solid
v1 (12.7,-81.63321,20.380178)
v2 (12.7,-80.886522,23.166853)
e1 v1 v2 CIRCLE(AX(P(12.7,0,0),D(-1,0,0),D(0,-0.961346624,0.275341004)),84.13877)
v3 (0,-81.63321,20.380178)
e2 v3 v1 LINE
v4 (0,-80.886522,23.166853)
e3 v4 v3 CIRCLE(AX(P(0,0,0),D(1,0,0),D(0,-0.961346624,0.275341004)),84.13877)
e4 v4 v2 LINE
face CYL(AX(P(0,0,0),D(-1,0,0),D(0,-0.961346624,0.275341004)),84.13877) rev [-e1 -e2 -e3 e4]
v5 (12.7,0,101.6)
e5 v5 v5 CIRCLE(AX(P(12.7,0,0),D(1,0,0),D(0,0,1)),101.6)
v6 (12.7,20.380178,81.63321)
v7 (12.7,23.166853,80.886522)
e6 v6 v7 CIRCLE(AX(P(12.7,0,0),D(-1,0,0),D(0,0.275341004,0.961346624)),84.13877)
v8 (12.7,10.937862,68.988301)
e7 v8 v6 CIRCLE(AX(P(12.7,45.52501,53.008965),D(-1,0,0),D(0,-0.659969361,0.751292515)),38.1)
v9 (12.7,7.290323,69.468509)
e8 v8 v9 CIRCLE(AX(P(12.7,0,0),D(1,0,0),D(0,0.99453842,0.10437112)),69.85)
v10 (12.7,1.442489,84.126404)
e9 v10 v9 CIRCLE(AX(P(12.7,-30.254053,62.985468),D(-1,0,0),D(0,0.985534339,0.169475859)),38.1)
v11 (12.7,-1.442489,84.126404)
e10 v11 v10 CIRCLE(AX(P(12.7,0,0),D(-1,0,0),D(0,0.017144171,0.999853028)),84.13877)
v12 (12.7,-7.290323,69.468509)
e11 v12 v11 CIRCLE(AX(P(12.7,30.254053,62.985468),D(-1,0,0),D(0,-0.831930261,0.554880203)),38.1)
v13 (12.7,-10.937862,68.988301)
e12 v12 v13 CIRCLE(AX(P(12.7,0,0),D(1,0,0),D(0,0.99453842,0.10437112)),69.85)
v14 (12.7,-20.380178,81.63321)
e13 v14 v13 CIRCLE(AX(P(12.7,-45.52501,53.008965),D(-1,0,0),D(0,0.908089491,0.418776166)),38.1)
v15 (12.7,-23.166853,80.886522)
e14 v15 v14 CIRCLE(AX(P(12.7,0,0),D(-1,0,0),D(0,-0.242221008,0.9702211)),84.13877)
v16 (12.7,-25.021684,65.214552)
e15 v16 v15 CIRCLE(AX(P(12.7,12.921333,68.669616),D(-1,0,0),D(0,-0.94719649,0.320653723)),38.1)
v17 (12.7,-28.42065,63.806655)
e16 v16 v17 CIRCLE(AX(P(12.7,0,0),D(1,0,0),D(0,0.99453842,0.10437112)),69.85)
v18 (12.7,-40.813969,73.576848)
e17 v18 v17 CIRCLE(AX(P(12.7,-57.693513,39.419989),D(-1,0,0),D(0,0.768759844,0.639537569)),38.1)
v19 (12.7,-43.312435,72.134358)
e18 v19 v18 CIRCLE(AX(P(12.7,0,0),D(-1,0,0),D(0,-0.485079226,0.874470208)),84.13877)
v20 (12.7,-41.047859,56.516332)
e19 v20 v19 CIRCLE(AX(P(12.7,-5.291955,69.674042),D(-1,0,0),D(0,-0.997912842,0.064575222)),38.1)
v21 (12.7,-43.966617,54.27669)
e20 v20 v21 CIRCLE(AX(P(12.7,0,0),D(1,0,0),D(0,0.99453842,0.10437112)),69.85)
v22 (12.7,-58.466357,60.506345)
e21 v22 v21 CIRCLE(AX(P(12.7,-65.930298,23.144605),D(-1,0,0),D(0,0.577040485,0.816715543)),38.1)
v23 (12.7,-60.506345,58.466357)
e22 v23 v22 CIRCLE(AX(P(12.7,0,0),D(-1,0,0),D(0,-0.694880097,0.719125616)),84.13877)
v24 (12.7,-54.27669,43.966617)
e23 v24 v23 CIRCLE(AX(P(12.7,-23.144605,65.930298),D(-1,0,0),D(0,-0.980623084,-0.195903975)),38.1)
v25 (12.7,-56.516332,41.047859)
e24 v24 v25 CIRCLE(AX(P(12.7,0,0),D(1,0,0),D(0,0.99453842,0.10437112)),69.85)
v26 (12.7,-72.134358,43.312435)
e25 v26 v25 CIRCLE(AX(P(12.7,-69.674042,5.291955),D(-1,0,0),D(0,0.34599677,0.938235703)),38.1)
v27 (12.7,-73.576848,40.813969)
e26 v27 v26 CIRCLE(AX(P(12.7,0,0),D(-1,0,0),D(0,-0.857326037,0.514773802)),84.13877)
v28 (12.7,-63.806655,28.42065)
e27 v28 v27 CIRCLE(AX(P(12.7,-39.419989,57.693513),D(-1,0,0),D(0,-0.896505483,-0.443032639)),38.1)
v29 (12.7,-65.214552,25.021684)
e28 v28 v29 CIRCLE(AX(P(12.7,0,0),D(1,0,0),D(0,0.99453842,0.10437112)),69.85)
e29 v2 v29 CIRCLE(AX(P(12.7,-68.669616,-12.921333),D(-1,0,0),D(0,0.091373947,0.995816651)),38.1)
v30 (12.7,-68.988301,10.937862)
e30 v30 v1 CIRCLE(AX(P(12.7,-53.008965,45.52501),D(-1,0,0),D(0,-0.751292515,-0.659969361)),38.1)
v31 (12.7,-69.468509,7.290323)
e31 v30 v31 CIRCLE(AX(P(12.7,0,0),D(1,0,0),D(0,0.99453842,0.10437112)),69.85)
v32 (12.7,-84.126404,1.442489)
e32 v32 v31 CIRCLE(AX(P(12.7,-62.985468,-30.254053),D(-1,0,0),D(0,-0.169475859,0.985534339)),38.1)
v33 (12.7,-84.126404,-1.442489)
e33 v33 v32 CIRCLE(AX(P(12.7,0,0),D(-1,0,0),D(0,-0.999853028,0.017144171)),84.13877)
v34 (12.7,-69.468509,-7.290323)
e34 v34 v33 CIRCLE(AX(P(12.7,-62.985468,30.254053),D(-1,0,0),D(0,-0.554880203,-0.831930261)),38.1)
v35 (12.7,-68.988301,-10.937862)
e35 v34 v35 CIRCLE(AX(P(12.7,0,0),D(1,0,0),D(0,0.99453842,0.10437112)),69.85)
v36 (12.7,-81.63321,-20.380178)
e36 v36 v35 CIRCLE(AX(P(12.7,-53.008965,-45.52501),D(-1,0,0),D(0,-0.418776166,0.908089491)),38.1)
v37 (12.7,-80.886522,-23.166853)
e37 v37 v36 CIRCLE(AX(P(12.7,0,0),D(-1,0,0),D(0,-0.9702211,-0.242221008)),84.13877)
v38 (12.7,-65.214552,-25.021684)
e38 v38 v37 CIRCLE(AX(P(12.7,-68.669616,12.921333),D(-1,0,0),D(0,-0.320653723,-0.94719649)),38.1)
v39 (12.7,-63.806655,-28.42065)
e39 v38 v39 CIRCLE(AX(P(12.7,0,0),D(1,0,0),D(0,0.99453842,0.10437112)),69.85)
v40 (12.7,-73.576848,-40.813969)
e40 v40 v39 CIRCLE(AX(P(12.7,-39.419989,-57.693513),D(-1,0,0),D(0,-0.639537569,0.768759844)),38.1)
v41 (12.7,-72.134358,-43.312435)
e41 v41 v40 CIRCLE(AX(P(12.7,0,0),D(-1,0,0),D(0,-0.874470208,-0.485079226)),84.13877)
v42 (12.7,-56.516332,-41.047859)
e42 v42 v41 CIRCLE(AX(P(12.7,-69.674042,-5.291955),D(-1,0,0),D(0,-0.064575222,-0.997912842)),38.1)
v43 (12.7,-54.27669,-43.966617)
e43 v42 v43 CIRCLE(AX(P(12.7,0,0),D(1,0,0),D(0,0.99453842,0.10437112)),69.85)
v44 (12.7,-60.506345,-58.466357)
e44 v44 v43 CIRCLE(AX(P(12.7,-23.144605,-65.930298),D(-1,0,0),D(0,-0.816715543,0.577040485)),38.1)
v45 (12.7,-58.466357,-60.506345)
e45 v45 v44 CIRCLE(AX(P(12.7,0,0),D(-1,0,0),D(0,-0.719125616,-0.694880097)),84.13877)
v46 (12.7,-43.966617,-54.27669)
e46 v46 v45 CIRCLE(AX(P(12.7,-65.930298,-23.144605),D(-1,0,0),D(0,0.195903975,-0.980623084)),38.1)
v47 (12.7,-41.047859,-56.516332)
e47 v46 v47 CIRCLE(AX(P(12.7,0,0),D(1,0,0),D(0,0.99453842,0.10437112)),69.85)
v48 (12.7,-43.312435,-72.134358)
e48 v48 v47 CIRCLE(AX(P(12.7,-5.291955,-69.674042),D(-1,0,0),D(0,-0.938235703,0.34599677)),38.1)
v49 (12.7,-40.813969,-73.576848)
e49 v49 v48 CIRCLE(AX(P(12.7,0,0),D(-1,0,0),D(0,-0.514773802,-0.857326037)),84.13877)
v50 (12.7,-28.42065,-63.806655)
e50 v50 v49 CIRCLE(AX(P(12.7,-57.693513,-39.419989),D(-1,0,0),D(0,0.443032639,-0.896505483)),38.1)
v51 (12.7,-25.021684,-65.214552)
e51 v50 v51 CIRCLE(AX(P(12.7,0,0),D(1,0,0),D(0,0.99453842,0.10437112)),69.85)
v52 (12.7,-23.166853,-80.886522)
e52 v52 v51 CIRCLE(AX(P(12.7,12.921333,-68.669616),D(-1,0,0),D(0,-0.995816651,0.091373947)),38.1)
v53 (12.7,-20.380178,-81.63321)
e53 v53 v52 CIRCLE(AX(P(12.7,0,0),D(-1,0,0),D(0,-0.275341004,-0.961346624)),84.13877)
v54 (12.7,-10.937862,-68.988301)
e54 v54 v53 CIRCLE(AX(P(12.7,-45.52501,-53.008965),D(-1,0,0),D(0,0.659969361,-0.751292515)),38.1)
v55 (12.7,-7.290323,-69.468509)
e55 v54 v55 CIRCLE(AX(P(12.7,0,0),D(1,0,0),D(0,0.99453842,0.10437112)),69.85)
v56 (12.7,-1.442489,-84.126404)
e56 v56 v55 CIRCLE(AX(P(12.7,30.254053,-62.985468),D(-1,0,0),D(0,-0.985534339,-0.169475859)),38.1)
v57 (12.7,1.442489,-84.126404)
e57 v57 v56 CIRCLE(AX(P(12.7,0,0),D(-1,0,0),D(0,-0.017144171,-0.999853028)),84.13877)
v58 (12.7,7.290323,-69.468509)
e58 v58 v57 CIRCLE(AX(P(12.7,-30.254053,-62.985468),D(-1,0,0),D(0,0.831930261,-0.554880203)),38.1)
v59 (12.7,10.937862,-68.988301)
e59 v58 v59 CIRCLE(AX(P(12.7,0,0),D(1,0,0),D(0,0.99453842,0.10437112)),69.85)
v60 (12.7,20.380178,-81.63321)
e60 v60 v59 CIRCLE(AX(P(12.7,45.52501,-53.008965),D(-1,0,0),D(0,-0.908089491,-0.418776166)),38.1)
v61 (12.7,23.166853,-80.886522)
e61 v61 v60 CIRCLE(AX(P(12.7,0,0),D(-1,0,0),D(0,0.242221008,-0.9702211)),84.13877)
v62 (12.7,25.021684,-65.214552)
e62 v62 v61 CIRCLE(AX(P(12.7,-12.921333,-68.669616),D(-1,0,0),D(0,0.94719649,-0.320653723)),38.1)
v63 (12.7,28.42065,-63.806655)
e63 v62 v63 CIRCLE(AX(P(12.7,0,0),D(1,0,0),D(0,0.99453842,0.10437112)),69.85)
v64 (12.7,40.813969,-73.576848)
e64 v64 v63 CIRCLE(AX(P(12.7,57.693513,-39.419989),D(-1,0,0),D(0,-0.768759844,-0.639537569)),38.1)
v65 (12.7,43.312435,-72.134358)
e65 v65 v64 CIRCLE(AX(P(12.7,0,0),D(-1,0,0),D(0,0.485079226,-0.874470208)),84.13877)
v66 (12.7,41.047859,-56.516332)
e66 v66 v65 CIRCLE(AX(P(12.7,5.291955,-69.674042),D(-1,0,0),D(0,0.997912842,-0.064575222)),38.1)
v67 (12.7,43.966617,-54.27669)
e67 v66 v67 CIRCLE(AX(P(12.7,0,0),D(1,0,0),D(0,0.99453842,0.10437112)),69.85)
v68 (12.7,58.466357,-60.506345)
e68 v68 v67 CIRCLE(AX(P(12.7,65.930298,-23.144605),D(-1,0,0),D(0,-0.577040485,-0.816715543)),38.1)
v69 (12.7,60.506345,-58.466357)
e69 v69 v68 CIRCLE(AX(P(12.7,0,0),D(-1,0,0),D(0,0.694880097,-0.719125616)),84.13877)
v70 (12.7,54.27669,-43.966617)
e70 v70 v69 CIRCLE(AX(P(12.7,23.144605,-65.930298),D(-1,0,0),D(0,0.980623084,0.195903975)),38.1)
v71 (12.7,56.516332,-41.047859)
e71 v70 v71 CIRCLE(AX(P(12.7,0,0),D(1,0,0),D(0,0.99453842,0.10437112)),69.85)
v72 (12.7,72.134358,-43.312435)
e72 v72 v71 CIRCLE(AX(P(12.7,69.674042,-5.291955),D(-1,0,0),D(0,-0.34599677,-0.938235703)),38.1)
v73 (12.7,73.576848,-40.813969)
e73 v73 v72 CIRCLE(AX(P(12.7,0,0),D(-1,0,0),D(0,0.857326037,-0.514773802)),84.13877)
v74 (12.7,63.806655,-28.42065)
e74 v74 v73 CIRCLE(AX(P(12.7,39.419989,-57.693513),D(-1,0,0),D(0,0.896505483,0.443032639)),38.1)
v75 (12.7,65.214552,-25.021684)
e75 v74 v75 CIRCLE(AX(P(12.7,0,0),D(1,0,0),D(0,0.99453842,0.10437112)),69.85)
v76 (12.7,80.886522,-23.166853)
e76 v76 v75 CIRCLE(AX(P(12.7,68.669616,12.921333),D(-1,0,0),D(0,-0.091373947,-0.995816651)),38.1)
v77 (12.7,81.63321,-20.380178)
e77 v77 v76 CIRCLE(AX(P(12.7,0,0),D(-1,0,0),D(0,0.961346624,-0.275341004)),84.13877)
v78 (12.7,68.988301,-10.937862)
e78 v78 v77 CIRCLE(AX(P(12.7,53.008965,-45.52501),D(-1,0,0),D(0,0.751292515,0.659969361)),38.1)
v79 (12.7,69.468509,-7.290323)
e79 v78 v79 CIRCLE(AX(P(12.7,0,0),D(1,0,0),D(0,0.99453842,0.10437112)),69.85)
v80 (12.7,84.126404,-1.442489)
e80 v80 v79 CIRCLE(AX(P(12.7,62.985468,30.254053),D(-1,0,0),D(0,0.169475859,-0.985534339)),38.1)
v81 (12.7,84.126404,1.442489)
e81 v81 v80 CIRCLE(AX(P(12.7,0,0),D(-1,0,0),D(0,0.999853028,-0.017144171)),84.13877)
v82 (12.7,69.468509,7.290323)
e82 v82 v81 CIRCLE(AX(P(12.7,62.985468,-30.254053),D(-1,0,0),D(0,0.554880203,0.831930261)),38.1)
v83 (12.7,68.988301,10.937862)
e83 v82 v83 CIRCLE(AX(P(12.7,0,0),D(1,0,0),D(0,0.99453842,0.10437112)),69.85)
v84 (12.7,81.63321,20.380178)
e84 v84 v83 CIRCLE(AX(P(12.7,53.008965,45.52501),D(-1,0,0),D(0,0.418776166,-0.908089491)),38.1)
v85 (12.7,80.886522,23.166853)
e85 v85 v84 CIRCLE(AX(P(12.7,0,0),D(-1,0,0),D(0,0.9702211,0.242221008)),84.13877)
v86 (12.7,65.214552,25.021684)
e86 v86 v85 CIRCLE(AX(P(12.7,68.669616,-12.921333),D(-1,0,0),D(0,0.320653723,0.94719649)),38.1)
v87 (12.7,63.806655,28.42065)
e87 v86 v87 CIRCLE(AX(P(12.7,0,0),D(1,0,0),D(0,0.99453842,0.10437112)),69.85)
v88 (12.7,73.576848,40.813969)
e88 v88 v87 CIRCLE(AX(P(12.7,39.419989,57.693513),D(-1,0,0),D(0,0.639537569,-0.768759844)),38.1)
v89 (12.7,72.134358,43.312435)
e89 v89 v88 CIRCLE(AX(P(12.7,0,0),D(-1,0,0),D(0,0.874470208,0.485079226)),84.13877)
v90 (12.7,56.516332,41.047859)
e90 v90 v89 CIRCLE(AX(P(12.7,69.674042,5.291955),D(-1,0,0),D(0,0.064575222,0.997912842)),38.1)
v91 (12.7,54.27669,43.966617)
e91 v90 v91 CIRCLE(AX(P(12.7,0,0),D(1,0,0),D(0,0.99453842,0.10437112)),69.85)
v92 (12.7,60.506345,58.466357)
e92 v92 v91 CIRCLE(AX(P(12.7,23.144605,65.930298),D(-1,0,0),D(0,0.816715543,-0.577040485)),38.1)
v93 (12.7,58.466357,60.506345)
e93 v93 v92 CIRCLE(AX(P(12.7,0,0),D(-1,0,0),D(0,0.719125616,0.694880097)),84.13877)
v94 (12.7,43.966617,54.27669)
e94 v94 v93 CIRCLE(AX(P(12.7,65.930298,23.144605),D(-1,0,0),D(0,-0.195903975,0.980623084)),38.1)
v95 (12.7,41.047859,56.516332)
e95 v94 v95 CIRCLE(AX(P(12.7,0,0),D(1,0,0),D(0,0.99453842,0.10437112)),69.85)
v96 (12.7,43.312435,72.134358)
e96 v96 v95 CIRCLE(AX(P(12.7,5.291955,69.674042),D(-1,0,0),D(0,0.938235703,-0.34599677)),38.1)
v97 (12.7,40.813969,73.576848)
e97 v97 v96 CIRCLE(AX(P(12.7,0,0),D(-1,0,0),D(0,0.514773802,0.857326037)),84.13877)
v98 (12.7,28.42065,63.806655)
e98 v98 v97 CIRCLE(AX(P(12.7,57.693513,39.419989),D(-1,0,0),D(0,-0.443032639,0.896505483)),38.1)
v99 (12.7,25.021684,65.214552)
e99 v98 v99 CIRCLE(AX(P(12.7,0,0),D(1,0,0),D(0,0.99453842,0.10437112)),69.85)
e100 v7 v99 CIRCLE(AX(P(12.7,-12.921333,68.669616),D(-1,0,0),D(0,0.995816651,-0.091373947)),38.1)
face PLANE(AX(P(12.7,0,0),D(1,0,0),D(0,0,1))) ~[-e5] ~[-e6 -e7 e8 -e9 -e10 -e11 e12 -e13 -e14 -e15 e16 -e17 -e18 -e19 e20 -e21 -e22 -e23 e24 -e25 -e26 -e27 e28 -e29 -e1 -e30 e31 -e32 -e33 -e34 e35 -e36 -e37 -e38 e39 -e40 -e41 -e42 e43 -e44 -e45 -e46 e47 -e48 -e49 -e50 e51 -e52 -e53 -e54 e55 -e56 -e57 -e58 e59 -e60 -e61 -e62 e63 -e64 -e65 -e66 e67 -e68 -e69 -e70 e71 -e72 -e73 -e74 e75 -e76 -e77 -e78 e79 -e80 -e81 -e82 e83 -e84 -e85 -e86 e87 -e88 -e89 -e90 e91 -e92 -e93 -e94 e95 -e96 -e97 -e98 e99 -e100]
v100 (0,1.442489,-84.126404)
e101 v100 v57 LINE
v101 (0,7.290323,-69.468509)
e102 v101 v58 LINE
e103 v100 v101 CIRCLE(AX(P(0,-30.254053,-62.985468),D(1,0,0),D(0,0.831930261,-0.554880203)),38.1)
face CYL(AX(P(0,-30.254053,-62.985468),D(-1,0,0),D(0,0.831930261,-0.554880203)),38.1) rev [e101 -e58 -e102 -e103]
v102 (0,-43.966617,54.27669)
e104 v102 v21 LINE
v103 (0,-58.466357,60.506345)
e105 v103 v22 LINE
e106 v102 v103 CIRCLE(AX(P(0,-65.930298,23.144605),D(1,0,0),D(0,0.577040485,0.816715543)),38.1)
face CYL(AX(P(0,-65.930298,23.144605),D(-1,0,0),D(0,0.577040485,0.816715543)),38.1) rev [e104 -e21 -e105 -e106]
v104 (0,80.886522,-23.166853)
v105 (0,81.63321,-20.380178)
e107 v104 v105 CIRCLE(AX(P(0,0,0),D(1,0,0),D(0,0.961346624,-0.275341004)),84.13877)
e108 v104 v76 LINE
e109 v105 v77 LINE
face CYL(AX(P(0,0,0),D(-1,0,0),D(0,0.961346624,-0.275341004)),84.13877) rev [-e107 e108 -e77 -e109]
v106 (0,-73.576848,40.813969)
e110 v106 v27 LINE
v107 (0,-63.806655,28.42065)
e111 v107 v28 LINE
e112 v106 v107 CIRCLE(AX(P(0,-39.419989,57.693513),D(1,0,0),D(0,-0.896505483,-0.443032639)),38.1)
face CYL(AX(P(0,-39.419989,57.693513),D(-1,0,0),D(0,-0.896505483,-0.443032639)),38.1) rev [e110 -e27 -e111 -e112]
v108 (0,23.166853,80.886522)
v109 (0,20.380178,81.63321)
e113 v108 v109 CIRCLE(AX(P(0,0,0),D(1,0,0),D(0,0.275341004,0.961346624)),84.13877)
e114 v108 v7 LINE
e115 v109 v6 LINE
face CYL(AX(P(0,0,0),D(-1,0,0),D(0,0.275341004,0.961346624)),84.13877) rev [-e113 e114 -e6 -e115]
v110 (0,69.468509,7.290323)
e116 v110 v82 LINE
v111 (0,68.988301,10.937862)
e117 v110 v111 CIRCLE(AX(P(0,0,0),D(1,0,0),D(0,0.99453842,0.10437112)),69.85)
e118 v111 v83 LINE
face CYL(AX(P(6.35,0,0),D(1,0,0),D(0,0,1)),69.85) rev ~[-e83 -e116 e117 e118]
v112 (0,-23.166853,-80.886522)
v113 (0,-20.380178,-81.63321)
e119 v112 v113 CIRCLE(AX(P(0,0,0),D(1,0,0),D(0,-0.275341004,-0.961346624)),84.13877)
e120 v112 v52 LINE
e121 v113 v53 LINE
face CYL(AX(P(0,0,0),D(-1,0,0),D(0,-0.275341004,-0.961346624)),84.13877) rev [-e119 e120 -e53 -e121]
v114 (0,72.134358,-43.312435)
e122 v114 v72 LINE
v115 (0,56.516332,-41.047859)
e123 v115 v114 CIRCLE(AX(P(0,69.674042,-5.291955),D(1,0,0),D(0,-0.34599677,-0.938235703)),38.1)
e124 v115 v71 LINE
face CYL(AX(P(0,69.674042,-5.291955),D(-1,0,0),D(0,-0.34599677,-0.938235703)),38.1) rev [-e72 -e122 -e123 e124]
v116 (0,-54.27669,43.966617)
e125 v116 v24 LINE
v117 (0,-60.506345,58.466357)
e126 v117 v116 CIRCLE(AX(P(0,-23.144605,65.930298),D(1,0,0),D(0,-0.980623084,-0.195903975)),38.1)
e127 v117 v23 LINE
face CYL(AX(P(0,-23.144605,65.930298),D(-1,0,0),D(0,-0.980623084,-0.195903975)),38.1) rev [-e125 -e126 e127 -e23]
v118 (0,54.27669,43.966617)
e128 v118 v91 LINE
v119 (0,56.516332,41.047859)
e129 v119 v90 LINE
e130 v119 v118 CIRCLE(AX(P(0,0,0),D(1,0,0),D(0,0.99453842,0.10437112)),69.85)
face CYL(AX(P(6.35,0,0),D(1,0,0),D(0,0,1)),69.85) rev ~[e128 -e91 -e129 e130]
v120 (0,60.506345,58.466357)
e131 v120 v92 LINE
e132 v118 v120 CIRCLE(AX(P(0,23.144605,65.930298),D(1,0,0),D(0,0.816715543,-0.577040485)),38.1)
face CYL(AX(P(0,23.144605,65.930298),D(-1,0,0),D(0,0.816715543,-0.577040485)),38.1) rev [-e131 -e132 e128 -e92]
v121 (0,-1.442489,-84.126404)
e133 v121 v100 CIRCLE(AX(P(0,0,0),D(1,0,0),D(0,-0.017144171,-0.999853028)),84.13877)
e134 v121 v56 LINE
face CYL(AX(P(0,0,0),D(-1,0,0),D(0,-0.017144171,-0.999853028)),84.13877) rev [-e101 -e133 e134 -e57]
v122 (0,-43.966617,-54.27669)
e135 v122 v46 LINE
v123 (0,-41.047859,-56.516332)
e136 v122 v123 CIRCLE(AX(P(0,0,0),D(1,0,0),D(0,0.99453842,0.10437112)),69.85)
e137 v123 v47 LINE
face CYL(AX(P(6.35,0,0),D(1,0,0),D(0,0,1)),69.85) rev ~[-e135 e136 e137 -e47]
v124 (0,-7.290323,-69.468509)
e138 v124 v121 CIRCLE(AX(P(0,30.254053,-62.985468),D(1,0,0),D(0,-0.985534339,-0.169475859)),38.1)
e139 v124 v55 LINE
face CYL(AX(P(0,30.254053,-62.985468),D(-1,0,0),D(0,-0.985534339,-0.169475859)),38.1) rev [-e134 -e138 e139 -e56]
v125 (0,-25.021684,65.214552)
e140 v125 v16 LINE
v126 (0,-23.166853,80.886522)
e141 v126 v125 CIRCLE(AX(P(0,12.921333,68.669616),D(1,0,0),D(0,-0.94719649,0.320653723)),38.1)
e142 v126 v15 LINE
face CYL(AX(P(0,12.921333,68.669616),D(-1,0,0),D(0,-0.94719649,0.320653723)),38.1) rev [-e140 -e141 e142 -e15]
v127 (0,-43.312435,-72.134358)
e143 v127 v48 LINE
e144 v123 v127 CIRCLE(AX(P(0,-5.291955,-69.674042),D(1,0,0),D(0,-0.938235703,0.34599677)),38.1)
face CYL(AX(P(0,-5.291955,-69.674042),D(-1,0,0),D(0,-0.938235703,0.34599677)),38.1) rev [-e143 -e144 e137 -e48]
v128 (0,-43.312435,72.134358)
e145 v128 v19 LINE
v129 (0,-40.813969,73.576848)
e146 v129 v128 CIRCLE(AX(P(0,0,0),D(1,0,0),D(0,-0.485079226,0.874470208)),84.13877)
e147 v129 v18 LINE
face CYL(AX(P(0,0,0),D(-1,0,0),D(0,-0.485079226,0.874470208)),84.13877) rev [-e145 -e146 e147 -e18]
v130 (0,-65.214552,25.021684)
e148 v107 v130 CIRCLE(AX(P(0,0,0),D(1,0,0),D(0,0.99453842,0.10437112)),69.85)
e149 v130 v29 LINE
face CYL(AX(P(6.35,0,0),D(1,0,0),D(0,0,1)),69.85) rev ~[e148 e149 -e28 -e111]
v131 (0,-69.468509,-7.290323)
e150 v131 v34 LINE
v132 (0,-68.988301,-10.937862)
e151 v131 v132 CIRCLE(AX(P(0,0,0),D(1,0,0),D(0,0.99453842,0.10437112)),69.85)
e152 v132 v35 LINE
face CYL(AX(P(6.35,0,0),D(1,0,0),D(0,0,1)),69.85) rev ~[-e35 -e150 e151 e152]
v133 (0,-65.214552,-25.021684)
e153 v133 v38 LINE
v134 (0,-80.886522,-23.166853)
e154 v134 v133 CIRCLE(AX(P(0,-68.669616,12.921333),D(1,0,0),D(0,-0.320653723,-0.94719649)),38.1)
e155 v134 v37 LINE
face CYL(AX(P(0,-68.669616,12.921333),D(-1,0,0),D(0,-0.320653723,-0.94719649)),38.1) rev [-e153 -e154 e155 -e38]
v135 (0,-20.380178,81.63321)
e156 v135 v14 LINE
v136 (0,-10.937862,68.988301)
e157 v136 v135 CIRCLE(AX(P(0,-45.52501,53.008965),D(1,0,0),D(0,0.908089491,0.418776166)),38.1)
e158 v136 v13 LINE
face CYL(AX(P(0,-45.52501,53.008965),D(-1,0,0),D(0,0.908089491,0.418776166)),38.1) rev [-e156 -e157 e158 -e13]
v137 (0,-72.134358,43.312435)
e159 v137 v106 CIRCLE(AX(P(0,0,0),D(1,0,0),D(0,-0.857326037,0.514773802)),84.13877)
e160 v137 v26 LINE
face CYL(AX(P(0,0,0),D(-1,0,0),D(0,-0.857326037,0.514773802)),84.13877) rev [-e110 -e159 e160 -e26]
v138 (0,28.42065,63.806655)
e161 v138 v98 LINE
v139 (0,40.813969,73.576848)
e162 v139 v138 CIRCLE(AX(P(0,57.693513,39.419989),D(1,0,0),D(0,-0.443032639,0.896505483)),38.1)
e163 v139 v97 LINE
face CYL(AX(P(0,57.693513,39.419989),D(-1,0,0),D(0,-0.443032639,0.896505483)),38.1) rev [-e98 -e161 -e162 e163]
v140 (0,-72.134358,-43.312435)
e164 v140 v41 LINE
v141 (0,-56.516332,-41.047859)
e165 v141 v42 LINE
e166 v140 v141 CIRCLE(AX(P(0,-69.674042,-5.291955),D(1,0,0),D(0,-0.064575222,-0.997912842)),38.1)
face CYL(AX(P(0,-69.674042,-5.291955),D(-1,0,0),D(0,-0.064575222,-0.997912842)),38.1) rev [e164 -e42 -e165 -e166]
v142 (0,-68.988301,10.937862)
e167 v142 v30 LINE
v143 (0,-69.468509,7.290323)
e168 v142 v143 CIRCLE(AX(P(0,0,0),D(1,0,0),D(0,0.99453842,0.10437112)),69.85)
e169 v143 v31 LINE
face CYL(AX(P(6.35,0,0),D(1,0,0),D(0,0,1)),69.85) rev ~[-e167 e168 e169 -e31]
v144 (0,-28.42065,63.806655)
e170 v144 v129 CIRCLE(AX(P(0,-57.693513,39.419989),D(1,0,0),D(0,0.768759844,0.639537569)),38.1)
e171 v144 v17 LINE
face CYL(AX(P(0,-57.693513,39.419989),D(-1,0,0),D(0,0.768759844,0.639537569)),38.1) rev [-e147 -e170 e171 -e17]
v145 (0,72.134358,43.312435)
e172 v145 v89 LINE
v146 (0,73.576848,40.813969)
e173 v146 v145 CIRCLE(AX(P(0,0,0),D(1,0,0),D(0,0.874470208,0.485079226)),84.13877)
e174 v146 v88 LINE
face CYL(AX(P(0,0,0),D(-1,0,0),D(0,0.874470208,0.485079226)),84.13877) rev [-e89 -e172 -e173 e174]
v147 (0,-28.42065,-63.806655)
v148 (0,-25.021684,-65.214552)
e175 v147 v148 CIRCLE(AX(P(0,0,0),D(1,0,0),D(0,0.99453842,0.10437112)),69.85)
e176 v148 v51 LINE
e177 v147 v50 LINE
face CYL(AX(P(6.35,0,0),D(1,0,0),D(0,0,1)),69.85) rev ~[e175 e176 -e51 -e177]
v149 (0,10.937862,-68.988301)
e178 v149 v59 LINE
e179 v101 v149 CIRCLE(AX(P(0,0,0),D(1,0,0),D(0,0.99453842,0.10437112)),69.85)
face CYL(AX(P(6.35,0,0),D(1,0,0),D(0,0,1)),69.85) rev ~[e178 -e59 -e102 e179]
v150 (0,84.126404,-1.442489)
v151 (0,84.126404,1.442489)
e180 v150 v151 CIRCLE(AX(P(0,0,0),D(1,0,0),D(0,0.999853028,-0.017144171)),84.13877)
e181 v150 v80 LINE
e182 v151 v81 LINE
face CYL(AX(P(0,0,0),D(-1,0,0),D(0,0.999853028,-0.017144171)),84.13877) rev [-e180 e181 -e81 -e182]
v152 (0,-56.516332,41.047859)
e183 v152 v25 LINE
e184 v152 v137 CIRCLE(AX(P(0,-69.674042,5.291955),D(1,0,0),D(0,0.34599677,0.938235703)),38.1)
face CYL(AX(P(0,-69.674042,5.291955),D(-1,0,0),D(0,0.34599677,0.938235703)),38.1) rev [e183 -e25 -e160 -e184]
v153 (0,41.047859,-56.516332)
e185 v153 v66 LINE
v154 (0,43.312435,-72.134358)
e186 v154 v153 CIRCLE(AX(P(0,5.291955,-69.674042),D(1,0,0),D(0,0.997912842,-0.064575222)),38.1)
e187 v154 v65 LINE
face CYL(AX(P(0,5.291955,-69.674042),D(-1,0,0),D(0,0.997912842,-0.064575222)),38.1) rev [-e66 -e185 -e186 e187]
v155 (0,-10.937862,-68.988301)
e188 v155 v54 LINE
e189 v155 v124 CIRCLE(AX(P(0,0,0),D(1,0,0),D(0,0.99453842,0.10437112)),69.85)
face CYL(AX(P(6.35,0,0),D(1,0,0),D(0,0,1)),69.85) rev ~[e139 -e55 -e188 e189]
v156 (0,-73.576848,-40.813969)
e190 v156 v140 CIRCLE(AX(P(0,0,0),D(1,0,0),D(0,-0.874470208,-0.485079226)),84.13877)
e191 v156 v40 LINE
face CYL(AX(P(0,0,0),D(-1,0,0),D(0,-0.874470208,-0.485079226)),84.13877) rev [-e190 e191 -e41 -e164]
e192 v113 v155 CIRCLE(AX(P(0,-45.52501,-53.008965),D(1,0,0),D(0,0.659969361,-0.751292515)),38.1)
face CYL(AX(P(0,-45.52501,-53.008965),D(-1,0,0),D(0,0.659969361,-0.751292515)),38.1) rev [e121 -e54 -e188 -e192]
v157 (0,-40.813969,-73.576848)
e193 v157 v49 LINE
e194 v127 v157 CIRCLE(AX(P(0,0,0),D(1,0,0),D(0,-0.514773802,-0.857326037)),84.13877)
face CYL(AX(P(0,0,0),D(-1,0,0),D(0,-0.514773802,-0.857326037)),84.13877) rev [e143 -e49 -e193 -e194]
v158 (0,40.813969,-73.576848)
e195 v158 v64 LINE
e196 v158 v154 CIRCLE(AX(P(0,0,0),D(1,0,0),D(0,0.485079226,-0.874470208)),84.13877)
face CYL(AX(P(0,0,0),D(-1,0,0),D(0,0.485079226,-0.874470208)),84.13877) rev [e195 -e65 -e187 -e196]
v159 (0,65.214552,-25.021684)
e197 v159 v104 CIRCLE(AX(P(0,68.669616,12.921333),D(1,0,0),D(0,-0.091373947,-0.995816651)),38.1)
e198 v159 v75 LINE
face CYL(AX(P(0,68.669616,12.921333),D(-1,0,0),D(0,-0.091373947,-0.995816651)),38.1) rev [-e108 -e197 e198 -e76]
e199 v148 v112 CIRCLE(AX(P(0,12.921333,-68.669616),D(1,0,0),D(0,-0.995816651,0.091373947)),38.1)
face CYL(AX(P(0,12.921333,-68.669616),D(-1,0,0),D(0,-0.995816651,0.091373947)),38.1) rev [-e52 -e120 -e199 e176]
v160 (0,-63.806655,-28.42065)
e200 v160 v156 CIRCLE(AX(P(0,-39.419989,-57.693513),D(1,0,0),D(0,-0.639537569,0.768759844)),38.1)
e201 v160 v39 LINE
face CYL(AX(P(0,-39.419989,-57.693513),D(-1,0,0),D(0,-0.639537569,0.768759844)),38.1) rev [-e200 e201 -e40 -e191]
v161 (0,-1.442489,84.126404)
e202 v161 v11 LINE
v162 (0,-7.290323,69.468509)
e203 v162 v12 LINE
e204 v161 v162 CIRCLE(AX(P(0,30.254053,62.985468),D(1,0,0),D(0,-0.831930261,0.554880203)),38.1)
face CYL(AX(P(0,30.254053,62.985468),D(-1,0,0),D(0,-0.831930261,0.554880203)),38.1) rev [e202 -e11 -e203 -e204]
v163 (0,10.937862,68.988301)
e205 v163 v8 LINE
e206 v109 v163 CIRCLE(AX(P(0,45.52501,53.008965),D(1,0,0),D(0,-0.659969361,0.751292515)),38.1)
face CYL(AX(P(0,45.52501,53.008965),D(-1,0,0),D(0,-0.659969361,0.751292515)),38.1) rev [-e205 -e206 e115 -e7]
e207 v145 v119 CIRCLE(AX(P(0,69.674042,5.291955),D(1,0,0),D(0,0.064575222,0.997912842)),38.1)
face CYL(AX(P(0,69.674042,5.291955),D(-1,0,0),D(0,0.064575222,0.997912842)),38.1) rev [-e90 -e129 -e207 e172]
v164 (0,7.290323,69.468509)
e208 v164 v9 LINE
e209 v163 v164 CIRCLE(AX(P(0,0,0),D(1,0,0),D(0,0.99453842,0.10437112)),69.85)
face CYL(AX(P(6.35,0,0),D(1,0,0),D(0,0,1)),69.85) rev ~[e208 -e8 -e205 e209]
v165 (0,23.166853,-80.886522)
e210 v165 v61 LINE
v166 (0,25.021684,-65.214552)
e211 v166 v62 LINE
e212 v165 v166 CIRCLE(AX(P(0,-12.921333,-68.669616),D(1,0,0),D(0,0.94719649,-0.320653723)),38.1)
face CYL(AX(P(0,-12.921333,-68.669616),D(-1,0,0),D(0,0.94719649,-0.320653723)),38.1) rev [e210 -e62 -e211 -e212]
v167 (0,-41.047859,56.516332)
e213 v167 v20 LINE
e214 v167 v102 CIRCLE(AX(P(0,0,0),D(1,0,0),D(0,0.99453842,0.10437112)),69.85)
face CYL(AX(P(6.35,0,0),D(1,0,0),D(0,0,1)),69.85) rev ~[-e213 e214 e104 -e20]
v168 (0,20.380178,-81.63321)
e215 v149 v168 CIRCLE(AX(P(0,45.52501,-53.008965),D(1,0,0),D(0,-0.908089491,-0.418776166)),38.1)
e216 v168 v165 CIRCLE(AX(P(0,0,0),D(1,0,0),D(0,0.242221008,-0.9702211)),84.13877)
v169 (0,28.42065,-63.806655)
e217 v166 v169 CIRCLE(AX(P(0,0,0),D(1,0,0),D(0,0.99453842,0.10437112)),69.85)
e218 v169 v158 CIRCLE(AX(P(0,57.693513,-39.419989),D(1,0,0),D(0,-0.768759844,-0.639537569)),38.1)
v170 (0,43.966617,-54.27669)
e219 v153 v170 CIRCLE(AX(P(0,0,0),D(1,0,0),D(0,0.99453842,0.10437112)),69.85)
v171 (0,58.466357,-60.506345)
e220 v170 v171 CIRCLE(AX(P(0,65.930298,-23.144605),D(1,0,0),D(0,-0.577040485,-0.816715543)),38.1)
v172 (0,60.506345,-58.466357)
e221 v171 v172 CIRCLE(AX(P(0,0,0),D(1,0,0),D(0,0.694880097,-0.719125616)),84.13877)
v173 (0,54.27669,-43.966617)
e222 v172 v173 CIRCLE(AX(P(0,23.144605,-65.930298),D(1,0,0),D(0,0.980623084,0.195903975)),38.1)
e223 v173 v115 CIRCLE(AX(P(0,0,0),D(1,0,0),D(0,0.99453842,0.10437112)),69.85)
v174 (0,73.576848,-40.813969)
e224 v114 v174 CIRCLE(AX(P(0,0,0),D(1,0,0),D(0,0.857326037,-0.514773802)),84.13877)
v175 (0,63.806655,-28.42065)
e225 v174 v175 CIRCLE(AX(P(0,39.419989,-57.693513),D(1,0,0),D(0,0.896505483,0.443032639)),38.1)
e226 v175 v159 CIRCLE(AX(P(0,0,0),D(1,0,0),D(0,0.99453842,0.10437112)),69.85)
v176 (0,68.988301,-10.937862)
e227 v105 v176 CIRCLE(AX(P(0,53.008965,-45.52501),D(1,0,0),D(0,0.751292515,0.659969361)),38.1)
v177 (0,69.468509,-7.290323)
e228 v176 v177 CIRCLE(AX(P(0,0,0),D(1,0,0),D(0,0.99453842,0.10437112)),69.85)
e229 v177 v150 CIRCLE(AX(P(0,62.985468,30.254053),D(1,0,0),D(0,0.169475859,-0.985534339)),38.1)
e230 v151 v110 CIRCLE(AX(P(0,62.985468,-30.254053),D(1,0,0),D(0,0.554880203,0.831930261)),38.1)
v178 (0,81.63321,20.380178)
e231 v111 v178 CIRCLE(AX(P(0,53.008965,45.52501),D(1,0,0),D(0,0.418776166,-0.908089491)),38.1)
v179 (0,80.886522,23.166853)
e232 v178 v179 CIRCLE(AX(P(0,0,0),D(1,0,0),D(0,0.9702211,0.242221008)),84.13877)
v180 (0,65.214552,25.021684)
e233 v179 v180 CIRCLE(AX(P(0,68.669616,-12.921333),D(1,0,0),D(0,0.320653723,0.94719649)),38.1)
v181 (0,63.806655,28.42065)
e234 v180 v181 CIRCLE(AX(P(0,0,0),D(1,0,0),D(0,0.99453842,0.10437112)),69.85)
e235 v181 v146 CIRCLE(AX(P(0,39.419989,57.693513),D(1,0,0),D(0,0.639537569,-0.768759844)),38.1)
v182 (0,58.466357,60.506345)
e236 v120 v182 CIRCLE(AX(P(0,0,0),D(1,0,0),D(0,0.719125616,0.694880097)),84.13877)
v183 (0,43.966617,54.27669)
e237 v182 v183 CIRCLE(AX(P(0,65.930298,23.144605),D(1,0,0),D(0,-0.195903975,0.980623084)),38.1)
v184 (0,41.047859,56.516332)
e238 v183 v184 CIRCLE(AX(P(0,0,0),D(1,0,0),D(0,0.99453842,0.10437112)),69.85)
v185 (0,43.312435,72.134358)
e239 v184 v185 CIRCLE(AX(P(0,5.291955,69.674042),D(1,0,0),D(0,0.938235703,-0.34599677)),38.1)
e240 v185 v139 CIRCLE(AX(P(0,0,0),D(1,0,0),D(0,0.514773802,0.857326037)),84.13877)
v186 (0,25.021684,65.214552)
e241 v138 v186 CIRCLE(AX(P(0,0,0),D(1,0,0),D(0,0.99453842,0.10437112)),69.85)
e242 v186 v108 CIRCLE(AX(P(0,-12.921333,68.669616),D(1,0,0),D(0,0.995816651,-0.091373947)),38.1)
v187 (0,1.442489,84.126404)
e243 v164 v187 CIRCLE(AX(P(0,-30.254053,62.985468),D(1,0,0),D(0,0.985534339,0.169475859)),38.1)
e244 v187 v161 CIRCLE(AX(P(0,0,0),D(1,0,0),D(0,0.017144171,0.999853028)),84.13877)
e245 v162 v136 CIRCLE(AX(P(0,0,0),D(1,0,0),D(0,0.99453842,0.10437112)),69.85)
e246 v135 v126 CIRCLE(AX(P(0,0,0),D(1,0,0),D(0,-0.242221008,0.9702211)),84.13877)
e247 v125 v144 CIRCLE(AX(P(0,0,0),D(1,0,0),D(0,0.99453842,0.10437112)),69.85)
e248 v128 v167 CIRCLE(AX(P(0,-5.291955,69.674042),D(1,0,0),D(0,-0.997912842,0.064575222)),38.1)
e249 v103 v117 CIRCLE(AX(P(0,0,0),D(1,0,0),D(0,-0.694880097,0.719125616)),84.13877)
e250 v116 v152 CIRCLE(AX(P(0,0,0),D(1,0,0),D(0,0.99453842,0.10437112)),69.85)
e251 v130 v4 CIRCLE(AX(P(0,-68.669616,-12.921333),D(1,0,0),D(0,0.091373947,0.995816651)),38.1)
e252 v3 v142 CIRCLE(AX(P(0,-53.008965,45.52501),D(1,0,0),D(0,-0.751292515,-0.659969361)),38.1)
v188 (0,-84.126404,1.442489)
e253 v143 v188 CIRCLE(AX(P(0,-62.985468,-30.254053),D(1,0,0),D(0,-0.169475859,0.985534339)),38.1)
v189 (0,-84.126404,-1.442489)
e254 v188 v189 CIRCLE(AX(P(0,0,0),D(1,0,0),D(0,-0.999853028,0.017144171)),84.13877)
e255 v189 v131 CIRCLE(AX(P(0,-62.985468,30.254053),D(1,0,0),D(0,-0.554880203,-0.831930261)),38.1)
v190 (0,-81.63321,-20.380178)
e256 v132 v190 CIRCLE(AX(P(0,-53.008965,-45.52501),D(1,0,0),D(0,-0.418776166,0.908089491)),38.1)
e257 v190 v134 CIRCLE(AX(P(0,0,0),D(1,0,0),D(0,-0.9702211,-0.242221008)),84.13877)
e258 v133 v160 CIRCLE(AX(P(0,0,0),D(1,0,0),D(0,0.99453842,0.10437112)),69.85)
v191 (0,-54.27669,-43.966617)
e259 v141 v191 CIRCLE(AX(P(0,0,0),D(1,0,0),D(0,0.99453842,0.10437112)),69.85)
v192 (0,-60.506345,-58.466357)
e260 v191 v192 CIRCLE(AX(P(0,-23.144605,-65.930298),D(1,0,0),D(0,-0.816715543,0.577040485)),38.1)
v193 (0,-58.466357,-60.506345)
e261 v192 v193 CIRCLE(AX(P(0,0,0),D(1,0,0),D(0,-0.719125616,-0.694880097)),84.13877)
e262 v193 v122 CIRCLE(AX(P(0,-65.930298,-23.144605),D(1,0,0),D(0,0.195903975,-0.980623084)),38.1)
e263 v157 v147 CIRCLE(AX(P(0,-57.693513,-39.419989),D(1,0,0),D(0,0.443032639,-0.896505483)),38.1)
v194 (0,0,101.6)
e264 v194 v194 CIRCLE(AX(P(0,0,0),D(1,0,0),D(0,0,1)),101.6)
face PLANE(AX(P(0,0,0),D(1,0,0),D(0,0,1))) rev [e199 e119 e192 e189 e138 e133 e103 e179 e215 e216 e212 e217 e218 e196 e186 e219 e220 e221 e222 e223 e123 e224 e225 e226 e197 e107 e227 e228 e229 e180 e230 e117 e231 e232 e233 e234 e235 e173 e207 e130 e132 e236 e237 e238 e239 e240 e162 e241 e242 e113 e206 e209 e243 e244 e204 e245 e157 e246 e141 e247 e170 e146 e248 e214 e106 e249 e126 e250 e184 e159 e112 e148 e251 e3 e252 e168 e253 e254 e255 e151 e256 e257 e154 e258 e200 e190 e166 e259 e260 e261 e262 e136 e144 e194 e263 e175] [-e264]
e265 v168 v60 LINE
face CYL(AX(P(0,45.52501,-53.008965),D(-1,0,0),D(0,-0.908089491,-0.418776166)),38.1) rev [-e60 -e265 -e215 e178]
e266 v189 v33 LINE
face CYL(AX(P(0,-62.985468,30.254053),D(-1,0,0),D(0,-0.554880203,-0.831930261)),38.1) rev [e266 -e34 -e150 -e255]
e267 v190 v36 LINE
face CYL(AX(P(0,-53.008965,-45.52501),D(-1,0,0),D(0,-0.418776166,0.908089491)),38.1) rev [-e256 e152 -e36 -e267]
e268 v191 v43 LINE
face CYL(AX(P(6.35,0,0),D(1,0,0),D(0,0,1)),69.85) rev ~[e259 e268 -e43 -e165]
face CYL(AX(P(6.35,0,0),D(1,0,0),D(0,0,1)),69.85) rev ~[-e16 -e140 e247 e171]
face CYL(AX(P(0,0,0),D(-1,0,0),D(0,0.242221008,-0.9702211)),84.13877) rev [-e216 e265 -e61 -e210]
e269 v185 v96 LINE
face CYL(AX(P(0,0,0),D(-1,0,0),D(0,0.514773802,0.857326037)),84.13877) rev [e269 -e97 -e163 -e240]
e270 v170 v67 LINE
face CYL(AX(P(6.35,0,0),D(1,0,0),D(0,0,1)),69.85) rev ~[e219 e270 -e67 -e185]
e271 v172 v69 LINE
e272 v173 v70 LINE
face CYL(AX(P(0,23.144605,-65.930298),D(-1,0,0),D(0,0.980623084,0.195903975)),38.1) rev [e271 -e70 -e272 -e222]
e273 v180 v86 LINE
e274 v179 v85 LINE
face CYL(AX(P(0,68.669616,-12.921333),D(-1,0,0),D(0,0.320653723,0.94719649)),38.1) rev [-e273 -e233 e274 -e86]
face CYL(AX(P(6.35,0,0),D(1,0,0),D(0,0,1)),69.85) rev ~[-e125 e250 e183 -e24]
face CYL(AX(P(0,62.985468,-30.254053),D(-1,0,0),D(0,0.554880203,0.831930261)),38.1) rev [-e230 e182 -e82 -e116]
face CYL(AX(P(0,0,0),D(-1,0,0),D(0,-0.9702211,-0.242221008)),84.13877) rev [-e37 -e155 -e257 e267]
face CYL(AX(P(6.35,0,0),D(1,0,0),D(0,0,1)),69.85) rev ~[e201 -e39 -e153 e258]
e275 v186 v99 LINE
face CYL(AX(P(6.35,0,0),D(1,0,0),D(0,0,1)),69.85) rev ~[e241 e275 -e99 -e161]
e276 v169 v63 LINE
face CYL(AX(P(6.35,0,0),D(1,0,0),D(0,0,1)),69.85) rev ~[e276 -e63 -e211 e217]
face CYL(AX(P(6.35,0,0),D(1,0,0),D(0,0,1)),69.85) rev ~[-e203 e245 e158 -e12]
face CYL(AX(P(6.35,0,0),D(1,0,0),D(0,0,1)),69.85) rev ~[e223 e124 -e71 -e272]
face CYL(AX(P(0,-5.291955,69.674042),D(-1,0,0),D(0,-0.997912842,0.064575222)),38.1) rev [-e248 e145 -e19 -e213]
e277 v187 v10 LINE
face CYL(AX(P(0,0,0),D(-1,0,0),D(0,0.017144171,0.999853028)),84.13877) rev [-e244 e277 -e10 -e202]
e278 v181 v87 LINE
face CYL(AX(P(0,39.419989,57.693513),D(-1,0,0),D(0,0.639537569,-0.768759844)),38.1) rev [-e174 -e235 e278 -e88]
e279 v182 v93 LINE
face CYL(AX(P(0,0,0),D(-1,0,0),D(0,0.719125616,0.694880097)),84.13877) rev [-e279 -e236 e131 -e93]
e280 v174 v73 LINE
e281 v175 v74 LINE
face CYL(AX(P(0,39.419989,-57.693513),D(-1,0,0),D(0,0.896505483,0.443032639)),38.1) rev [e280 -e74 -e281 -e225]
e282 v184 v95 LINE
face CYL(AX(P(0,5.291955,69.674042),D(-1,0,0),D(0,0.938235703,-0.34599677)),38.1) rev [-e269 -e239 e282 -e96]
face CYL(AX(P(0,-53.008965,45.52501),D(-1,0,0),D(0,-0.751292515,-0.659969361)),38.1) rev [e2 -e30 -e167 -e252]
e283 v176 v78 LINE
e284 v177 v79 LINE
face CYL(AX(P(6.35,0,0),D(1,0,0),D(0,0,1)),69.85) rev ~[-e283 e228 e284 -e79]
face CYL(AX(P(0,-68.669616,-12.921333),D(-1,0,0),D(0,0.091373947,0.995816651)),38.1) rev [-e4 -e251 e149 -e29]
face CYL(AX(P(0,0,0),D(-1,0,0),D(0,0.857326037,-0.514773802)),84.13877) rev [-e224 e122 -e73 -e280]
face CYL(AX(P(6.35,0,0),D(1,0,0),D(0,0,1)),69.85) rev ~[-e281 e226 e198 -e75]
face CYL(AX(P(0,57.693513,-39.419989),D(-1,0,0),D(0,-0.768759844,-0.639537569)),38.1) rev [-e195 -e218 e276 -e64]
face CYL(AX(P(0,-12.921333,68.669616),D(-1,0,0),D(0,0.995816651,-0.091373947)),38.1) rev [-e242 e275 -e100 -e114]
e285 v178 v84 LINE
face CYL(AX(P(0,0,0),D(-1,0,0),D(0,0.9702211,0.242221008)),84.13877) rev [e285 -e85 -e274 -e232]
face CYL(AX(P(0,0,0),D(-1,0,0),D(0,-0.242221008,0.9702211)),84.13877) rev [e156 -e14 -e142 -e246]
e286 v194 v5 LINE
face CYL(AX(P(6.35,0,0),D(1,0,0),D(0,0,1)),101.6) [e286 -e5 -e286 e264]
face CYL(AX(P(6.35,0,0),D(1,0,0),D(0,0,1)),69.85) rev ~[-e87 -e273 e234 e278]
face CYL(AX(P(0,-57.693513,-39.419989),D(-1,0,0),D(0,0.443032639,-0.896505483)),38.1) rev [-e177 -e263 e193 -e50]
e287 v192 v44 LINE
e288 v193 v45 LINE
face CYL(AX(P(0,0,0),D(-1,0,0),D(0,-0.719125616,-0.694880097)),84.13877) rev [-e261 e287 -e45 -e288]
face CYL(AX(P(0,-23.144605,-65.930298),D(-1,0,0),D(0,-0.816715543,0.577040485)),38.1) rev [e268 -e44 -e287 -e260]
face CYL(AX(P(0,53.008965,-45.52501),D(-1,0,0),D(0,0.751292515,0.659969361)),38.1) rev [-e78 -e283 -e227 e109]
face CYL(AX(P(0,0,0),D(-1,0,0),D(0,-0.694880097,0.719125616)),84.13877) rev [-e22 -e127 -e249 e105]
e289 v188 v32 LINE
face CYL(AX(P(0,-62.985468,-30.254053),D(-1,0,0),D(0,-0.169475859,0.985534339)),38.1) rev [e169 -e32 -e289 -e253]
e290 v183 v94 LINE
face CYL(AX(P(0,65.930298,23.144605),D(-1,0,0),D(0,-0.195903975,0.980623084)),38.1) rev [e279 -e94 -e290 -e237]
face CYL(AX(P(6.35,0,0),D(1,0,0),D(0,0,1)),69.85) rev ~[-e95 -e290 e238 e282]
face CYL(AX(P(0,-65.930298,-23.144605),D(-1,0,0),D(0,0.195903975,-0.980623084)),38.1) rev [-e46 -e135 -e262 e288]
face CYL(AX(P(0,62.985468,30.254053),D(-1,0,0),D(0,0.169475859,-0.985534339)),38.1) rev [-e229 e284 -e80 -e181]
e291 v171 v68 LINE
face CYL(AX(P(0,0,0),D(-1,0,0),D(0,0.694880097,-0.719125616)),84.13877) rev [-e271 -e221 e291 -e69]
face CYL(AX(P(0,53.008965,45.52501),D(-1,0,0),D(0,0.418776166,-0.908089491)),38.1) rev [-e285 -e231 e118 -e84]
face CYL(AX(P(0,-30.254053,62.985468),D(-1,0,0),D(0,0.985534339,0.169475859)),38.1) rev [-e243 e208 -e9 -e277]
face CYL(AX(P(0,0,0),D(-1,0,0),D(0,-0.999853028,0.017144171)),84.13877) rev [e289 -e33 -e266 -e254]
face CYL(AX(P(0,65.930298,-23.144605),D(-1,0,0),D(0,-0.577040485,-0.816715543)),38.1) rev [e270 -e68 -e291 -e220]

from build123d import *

# Parameters (mm, degrees)
BASPROSKE_W     = 12.7
BASPROSKE_H     = 31.75
TOOTHCUT_DEPTH  = 145.244271983
TEETHCUTS_COUNT = 24
TEETHCUTS_ANGLE = 345


with BuildPart() as part:
    # BasProSke → Base-Revolve (revolve)
    with BuildSketch(Plane(origin=(0, 0, 0), x_dir=(1, 0, 0), z_dir=(0, 1, 0)), mode=Mode.PRIVATE) as base_revolve_sk:
        with Locations((6.35, 85.725)):
            Rectangle(BASPROSKE_W, BASPROSKE_H)
    revolve(base_revolve_sk.sketch.rotate(Axis((-10, 0, 0), (1, 0, 0)), 180), axis=Axis((-10, 0, 0), (1, 0, 0)))

    # TooCutSke → ToothCut (cut, through all)
    with BuildSketch(Plane(origin=(0, 0, 0), x_dir=(0, 0, -1), z_dir=(1, 0, 0))):
        with BuildLine():
            ThreePointArc((7.294804836, 69.442498425), (5.138539952, 77.091294309), (1.442489481, 84.126403948))
            ThreePointArc((1.442489481, 84.126403948), (0, 84.13877), (-1.442489481, 84.126403948))
            ThreePointArc((-1.442489481, 84.126403948), (-5.138539952, 77.091294309), (-7.294804836, 69.442498425))
            ThreePointArc((-7.294804836, 69.442498425), (0, 69.8246), (7.294804836, 69.442498425))
        make_face()
    toothcut = extrude(amount=TOOTHCUT_DEPTH, mode=Mode.SUBTRACT)

    # TeethCuts: ToothCut ×24 about axis
    teethcuts_axis = Axis((-10, 0, 0), (1, 0, 0))
    for i in range(1, TEETHCUTS_COUNT):
        add(toothcut.rotate(teethcuts_axis, i * TEETHCUTS_ANGLE / (TEETHCUTS_COUNT - 1)), mode=Mode.SUBTRACT)


solid = part.part
